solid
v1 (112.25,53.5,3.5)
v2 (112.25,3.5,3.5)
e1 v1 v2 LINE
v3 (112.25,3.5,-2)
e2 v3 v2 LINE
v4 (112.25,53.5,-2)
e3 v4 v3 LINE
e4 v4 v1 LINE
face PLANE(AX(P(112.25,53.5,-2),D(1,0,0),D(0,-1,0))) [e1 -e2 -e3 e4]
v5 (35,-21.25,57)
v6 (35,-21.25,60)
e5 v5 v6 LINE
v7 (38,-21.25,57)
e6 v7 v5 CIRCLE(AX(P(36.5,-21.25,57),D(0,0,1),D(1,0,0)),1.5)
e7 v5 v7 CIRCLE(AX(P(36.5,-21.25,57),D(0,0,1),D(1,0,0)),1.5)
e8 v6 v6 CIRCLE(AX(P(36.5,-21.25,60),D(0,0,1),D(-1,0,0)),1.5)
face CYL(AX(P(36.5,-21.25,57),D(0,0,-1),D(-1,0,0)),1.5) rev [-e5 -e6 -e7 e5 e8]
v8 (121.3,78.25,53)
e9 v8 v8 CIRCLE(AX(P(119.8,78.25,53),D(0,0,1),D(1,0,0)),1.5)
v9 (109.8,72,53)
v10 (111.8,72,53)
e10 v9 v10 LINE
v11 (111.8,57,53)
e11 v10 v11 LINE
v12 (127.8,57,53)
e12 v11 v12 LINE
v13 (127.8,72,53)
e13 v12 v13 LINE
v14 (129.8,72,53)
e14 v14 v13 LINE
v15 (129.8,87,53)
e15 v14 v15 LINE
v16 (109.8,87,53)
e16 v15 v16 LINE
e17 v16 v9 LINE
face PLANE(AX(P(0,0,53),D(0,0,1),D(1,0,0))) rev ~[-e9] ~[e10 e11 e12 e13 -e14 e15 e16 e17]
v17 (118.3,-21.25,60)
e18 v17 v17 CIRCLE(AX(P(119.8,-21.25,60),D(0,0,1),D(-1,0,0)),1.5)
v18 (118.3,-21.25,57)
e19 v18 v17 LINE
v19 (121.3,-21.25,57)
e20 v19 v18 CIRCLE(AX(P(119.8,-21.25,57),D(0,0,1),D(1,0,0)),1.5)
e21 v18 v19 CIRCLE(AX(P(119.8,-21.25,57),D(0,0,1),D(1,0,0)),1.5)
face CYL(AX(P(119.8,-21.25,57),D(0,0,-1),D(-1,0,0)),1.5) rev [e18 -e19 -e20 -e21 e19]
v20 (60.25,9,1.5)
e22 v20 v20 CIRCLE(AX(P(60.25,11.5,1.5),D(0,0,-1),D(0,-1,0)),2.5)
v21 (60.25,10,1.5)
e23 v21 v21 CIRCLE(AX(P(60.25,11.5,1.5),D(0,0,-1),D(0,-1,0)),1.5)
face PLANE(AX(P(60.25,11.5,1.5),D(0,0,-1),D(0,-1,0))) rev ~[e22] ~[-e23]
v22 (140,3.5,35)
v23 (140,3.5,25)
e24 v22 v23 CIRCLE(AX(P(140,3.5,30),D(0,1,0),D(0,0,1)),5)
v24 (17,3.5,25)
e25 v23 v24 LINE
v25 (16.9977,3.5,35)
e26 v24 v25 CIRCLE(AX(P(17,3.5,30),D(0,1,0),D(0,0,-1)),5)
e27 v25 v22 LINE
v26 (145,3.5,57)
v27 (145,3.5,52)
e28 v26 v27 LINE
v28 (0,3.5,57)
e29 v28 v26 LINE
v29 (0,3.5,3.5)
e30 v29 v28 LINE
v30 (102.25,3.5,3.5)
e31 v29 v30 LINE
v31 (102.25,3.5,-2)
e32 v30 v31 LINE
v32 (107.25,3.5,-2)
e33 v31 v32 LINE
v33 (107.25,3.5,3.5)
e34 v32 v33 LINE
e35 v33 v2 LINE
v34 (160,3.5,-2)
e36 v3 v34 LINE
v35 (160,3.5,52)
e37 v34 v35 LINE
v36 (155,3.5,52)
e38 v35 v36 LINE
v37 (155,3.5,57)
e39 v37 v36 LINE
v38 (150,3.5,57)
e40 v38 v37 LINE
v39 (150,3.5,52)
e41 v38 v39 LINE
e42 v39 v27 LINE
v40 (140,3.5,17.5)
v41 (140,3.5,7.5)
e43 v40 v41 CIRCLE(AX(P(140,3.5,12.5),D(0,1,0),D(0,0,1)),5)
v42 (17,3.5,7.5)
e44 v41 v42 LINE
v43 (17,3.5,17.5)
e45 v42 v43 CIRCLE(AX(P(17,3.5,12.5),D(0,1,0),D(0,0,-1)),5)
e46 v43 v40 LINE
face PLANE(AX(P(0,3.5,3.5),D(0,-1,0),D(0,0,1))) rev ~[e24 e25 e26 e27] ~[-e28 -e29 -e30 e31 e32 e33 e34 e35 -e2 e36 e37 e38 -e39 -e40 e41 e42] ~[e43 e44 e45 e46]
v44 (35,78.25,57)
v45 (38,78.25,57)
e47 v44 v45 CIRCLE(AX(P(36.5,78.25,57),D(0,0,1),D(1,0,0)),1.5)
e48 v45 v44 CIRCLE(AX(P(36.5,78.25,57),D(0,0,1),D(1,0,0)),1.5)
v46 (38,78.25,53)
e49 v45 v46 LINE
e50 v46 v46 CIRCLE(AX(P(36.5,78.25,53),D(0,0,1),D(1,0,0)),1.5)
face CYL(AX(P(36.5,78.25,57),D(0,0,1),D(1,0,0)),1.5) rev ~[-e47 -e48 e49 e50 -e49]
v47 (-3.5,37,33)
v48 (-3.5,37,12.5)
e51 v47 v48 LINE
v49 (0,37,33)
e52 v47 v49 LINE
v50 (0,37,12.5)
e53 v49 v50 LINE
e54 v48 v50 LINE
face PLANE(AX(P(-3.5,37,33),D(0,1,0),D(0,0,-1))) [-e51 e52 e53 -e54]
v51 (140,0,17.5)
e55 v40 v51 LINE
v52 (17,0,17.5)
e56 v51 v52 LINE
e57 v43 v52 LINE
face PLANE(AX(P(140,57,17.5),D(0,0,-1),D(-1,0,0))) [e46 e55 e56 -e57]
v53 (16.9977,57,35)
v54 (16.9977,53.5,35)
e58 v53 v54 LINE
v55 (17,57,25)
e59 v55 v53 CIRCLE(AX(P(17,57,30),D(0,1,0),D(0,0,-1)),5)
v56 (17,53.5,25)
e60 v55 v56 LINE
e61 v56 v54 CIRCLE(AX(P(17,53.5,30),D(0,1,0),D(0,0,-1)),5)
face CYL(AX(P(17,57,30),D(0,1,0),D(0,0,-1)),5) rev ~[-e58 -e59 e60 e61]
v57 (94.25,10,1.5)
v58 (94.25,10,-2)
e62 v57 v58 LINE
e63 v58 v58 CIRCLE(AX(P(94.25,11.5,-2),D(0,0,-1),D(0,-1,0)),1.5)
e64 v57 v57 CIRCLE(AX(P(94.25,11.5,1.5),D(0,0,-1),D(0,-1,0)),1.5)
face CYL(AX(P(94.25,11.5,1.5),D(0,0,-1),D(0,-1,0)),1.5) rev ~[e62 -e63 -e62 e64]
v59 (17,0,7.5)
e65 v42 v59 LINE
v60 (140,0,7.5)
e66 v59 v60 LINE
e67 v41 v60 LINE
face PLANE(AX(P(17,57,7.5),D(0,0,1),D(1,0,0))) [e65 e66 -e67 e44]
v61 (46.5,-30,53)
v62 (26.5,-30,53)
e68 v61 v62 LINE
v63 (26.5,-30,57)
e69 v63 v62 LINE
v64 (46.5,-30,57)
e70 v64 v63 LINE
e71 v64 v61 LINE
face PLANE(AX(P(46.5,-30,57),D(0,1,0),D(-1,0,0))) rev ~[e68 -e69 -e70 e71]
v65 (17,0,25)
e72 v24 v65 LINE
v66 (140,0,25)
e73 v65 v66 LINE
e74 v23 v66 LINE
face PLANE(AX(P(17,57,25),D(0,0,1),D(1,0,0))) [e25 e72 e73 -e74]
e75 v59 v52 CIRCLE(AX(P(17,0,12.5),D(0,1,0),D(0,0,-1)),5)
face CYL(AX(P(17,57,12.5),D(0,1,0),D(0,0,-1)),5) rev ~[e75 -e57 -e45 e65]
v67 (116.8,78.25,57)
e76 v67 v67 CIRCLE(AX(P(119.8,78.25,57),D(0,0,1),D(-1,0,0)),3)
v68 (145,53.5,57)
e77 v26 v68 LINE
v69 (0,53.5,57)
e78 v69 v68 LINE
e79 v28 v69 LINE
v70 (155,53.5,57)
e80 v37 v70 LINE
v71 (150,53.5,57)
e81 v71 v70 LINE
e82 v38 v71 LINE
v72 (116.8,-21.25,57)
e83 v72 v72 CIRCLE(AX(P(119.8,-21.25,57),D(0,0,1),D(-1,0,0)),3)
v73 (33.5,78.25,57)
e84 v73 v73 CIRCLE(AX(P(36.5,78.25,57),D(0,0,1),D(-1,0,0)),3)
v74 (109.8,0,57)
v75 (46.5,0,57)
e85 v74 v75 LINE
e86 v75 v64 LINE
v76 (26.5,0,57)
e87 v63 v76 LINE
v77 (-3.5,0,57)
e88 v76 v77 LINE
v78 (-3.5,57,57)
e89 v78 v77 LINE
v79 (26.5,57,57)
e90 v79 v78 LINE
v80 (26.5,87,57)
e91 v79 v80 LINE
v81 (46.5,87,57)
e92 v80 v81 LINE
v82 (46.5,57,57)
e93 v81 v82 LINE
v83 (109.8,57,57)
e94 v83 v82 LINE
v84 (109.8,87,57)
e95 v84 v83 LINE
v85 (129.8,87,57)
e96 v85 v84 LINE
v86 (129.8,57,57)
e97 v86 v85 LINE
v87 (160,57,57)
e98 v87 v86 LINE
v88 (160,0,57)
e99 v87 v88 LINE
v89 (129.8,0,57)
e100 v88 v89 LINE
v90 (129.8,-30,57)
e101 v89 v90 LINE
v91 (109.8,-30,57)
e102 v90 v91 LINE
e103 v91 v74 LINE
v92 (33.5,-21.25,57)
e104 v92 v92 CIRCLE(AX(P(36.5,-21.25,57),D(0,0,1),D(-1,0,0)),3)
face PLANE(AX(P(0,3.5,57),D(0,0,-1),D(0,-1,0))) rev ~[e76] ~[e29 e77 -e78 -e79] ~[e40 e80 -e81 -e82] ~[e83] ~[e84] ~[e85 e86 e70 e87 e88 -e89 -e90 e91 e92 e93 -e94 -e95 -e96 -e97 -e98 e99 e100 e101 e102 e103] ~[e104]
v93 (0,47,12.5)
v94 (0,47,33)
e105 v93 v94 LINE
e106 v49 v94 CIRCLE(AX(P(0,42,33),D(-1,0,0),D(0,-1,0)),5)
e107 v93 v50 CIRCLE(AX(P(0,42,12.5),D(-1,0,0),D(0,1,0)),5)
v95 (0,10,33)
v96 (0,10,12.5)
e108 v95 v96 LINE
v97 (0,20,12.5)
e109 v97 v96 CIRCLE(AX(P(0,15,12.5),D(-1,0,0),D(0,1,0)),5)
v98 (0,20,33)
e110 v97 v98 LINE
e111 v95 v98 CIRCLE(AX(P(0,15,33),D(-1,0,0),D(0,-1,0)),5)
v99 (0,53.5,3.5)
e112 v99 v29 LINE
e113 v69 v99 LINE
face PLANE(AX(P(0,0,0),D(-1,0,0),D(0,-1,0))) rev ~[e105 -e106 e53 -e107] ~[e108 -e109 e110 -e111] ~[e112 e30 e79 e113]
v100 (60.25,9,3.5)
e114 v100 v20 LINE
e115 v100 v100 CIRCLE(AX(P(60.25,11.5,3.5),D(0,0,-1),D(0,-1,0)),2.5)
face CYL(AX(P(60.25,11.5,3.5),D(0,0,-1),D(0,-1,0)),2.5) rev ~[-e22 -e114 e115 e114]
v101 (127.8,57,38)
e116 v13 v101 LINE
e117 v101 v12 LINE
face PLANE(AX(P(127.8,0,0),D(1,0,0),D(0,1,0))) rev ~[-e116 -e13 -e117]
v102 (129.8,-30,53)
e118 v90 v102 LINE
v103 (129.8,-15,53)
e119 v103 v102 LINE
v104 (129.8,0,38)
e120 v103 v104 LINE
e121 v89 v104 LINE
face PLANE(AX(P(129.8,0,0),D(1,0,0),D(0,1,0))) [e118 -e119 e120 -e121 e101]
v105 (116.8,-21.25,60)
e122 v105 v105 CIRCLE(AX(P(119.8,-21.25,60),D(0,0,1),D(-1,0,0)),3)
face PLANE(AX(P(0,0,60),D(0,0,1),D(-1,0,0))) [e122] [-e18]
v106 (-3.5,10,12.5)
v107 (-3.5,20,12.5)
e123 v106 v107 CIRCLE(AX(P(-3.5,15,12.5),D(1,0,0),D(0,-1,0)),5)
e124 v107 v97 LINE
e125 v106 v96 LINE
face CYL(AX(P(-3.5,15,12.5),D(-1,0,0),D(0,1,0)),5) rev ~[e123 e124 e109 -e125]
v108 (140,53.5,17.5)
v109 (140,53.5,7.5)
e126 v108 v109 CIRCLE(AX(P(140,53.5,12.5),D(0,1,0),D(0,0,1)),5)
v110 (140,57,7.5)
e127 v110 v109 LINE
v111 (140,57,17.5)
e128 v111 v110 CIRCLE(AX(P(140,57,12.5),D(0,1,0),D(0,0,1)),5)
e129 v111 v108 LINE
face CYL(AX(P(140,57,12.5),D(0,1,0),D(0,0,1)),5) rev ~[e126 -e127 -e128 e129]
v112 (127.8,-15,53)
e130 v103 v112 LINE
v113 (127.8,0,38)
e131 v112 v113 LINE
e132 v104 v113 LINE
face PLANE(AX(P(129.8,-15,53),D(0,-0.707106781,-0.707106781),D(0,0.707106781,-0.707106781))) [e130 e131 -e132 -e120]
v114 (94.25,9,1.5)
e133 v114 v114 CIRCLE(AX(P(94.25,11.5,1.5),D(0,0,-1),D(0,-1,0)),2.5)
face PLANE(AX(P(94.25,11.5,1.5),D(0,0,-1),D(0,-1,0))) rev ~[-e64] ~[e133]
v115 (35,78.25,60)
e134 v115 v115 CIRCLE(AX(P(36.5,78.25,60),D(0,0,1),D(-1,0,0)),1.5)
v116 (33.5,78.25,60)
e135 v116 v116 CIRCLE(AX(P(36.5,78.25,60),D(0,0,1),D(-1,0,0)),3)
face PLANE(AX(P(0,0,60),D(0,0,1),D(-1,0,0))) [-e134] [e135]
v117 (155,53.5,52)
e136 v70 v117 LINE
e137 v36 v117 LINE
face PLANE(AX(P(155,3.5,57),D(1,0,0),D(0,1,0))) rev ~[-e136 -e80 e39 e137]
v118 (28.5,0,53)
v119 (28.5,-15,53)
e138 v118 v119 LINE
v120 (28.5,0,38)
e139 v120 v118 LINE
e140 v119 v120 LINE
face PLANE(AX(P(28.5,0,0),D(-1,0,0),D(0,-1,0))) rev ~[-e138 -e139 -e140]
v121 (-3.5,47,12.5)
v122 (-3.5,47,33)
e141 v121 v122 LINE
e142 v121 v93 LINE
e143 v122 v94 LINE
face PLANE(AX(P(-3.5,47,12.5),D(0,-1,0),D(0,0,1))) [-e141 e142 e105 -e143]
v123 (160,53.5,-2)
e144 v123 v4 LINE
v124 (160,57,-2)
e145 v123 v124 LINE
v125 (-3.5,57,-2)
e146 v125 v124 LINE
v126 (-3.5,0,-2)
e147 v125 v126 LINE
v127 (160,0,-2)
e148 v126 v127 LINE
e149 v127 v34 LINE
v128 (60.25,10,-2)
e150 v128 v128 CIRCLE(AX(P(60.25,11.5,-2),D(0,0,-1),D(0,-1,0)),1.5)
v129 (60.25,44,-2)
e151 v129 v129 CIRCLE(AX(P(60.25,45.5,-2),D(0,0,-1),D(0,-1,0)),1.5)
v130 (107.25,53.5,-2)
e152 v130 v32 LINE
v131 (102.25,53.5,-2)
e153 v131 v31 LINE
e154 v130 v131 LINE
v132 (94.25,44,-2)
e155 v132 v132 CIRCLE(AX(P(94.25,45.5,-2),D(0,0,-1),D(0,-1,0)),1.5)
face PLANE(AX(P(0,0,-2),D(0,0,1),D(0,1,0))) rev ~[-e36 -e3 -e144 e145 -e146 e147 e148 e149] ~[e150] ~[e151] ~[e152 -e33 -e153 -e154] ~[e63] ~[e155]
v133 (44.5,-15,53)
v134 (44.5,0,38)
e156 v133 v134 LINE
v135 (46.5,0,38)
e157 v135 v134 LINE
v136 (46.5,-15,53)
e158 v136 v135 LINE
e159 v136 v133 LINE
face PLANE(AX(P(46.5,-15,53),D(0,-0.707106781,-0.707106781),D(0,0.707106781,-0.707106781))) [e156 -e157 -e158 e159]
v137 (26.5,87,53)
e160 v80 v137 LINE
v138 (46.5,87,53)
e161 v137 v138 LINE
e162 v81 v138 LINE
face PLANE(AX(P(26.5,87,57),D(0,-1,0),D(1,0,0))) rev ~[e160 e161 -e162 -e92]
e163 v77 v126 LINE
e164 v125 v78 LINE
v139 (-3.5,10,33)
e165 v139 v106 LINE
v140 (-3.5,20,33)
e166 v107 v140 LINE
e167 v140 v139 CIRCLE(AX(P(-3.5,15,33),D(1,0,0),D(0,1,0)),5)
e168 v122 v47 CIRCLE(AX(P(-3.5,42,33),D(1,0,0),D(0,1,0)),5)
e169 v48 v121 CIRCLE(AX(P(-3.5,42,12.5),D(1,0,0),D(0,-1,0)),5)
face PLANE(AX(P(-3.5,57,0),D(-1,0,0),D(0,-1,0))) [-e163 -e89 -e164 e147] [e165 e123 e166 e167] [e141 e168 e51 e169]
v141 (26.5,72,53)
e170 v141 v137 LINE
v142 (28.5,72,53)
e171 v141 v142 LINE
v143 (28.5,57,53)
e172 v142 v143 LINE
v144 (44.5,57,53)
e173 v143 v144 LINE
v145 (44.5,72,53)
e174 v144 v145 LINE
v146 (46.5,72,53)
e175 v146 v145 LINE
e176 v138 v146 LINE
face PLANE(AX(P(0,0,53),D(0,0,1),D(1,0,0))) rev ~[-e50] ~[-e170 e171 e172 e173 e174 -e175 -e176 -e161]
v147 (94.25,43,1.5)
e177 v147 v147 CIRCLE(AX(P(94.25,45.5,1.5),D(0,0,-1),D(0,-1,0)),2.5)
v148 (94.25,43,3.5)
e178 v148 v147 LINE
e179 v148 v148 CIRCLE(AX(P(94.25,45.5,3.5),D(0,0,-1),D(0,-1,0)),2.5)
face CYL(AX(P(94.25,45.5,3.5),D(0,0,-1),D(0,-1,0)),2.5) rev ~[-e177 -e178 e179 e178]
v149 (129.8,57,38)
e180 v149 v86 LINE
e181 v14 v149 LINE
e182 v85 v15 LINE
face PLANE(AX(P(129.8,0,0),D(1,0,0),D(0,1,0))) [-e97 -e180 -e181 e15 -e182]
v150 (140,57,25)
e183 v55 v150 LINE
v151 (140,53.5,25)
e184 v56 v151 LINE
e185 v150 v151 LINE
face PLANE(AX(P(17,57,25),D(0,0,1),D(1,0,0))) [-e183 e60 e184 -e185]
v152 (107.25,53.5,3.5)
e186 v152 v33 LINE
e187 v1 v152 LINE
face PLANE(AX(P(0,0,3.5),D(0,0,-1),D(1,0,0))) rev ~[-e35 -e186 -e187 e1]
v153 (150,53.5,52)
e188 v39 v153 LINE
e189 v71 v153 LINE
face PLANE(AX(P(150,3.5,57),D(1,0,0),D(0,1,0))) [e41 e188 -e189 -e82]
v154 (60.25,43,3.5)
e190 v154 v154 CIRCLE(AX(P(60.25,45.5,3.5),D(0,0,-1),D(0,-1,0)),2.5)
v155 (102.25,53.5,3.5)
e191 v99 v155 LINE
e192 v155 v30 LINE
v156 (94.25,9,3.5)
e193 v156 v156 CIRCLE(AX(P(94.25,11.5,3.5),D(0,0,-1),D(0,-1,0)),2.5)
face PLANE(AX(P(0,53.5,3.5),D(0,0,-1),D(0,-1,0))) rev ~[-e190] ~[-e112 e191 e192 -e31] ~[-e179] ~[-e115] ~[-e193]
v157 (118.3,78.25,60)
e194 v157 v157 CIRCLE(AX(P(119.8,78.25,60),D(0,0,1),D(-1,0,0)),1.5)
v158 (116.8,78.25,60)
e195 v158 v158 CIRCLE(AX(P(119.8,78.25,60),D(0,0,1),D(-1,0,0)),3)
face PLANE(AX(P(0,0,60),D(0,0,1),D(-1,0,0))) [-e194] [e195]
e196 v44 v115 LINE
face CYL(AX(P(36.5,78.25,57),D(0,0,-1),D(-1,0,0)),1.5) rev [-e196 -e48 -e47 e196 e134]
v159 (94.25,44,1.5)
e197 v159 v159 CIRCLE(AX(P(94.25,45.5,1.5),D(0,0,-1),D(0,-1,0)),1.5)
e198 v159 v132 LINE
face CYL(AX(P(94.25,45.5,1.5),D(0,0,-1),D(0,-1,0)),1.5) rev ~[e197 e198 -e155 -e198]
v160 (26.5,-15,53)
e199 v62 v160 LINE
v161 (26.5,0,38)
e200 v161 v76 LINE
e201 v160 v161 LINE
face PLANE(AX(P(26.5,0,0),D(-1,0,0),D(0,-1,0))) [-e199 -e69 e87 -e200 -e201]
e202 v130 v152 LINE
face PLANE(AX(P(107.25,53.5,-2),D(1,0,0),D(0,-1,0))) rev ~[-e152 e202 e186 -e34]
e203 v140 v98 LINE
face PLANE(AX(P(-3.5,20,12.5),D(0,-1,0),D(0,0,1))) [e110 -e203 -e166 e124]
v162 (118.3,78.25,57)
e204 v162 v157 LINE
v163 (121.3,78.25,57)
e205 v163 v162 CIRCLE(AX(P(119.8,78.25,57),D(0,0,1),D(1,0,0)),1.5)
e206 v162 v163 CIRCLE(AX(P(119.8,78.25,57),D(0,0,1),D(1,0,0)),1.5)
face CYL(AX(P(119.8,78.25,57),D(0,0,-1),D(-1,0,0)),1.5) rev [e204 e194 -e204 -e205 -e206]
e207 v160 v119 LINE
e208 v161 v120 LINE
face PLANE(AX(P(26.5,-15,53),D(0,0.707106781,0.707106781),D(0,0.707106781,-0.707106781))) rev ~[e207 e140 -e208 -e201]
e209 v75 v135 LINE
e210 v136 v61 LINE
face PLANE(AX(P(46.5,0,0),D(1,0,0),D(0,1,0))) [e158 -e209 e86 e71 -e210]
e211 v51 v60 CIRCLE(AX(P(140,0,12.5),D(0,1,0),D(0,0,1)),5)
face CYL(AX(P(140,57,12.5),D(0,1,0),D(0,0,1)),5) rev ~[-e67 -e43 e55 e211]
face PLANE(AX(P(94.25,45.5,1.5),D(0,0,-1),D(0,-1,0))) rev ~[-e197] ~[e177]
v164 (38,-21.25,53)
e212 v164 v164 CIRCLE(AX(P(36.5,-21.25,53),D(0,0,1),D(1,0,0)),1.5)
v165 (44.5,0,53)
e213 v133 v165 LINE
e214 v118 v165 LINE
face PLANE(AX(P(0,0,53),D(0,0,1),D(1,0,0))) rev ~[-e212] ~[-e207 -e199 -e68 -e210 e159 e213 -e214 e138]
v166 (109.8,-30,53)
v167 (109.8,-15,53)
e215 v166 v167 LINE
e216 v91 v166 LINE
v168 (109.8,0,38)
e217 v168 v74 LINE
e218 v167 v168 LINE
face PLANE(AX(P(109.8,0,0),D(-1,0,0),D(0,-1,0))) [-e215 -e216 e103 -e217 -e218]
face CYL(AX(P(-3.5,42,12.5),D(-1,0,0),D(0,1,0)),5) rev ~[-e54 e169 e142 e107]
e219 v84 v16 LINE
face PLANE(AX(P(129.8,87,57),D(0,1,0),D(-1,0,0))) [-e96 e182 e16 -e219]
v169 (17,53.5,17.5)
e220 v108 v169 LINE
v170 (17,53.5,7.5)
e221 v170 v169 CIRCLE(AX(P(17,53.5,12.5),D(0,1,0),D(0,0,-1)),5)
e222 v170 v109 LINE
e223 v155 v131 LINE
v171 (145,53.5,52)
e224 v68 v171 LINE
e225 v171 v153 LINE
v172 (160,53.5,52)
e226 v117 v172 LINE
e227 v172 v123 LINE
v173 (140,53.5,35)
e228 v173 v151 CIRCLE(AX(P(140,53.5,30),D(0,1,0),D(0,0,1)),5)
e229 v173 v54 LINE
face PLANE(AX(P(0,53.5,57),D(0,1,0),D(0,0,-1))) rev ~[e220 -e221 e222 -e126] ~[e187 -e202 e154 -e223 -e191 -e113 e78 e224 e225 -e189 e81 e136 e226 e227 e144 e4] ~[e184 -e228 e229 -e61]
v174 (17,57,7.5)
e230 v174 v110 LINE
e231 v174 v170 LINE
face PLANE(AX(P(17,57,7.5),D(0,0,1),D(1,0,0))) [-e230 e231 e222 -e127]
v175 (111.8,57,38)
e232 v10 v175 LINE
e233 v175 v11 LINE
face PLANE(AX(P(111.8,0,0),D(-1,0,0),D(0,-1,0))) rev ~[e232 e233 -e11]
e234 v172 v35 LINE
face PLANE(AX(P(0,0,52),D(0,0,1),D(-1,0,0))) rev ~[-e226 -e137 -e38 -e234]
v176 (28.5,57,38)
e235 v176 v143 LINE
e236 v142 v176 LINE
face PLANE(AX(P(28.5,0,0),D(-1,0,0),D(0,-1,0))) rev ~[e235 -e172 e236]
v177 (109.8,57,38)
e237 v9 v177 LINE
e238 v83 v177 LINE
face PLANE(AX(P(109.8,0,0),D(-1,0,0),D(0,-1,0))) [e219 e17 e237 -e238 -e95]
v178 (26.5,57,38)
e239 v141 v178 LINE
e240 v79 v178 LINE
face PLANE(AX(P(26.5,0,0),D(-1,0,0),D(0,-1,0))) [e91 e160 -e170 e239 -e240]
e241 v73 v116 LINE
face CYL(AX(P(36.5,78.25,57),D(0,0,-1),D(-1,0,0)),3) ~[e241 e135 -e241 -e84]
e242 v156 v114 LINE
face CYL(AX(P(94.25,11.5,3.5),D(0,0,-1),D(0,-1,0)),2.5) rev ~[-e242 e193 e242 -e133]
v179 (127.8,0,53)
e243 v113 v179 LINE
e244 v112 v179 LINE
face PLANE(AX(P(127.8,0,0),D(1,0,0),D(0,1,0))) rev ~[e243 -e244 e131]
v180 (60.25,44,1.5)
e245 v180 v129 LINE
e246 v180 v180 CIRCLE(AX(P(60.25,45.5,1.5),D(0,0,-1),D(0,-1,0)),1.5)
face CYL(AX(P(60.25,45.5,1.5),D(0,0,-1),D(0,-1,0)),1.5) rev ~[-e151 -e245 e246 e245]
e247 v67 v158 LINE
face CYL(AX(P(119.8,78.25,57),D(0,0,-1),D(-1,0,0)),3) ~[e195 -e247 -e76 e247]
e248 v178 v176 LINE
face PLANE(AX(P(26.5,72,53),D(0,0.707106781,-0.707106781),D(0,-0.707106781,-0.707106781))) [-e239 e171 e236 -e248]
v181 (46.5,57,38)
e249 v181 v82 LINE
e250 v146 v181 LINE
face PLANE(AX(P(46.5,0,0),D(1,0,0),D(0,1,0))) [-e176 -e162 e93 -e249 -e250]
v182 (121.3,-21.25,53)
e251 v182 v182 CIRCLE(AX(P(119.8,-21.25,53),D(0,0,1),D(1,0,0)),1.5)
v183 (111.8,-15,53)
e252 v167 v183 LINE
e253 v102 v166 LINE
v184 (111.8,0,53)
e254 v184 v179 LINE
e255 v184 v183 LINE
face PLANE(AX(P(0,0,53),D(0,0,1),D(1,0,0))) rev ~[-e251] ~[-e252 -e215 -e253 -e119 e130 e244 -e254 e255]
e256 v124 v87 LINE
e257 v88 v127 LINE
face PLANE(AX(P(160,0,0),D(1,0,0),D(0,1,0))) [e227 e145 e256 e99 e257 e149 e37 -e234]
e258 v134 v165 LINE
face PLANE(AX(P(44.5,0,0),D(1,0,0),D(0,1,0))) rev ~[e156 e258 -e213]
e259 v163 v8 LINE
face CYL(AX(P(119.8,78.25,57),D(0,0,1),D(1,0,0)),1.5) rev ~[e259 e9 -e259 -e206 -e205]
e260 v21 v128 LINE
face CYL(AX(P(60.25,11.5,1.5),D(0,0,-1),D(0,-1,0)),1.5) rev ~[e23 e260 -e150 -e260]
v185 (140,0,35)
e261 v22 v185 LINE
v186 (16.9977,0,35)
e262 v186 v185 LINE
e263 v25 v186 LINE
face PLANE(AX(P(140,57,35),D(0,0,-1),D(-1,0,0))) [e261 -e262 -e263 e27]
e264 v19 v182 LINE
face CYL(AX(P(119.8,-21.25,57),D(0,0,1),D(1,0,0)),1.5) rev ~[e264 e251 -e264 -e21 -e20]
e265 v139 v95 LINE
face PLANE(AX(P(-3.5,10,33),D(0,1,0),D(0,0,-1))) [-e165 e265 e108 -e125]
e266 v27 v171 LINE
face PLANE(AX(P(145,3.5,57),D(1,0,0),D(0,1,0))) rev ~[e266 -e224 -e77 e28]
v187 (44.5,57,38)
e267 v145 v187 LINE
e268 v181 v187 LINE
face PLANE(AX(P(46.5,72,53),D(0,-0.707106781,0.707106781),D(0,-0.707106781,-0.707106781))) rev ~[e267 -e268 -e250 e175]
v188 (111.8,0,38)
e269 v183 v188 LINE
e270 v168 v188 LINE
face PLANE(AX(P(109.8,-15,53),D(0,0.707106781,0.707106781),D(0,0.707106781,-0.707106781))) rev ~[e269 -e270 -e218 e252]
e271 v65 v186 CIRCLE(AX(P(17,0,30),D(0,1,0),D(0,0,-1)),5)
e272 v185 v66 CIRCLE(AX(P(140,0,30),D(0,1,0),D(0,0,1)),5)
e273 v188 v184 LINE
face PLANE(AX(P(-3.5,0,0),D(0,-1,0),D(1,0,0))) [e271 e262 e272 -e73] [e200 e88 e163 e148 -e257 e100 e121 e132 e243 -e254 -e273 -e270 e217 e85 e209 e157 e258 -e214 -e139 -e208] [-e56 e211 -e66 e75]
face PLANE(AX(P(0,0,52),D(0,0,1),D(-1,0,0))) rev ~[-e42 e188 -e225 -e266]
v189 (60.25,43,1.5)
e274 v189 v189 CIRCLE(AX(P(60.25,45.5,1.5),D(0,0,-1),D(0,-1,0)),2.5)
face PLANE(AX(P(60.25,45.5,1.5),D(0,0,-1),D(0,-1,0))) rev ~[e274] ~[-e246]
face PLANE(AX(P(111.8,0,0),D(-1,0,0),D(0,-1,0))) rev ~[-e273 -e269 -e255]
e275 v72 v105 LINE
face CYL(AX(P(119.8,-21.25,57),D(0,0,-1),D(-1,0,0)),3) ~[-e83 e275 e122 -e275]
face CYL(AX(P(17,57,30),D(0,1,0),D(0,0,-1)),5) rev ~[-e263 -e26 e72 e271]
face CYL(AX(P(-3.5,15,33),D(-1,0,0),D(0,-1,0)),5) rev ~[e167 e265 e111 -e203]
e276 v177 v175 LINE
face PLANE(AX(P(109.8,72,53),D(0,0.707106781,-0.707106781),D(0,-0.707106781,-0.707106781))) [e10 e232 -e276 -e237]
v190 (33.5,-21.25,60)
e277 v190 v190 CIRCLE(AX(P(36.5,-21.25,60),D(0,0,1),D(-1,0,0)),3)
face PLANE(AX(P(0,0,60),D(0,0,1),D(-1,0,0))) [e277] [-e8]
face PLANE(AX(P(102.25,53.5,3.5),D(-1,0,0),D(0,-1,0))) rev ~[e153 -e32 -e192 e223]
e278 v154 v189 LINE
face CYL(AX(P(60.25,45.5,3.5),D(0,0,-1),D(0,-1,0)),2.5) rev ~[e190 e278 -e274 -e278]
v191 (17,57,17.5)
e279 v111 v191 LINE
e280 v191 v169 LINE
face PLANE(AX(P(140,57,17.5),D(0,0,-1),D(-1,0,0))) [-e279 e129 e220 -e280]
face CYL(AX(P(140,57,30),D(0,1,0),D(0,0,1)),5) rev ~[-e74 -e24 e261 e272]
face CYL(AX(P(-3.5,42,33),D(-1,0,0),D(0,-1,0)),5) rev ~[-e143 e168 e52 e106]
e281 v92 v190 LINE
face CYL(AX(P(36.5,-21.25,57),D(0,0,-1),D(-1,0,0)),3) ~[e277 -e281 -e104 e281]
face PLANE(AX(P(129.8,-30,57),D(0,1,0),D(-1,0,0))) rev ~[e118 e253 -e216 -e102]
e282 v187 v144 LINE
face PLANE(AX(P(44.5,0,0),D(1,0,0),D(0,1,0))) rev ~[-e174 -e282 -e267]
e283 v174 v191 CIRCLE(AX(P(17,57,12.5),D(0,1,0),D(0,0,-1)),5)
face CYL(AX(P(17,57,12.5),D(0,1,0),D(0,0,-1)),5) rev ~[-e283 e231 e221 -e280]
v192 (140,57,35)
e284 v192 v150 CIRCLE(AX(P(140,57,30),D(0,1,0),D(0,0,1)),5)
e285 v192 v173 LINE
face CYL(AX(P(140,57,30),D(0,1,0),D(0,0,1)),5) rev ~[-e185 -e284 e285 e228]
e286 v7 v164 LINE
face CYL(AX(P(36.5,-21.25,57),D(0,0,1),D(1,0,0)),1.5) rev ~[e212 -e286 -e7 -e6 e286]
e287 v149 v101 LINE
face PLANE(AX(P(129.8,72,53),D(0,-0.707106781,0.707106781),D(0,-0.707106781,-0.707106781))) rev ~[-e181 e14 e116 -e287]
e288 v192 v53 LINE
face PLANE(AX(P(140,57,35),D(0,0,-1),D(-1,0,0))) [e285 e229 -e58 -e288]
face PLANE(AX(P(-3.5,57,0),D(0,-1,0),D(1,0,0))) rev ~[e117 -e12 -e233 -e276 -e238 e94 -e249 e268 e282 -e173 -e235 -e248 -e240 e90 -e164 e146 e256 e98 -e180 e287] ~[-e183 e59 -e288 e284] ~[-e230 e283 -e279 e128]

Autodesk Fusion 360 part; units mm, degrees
sketch "Sketch1" plane through (0, 0, 0) normal (1, 0, 0) x (0, 1, 0)
  line L0 (0, 0) -> (57, 0)
  line L1 (57, 0) -> (57, 57)
  line L2 (57, 57) -> (0, 57)
  line L3 (0, 57) -> (0, 0)
  line L4 (3.5, 57) -> (53.5, 57)
  line L5 (53.5, 57) -> (53.5, 3.5)
  line L6 (53.5, 3.5) -> (3.5, 3.5)
  line L7 (3.5, 3.5) -> (3.5, 57)
  dimension "d1" = 57
  dimension "d2" = 57
  dimension "d3" = 3.5
  dimension "d4" = 3.5
  dimension "d5" = 3.5
extrude "Extrude1" add sketch "Sketch1" along normal blind 160 contours L0 L1 L2 L3 L5 L6 L7
sketch "Sketch2" plane through (0, 0, 0) normal (-1, 0, 0) x (0, -1, 0)
  line L0 (-3.5, 57) -> (-3.5, 3.5)
  line L1 (-3.5, 3.5) -> (-53.5, 3.5)
  line L2 (-53.5, 3.5) -> (-53.5, 57)
  line L3 (-53.5, 57) -> (-57, 57)
  line L4 (-57, 57) -> (-57, 0)
  line L5 (-57, 0) -> (0, 0)
  line L6 (0, 0) -> (0, 57)
  line L7 (0, 57) -> (-3.5, 57)
  line L8 (-57, 57) -> (0, 57)
  line L9 (0, 57) -> (0, 0)
  line L10 (0, 0) -> (-57, 0)
  line L11 (-57, 0) -> (-57, 57)
extrude "Extrude2" add sketch "Sketch2" along normal blind 3.5
ref_plane "WorkPlane1" through (78.25, 28.5, 57) normal (0, 0, 1) x (0, -1, 0)
sketch "Sketch4" plane through (0, 0, 57) normal (0, 0, 1) x (1, 0, 0)
  circle A0 centre (36.5, 78.25) radius 1.5
  circle A1 centre (119.8, 78.25) radius 1.5
  circle A2 centre (36.5, -21.25) radius 1.5
  circle A3 centre (119.8, -21.25) radius 1.5
  line L0 (-3.5, 57) -> (160, 57)
  line L1 (26.5, 0) -> (46.5, 0)
  line L2 (46.5, 0) -> (46.5, -30)
  line L3 (46.5, -30) -> (26.5, -30)
  line L4 (26.5, -30) -> (26.5, 0)
  line L5 (109.8, 0) -> (129.8, 0)
  line L6 (129.8, 0) -> (129.8, -30)
  line L7 (129.8, -30) -> (109.8, -30)
  line L8 (109.8, -30) -> (109.8, 0)
  line L9 (109.8, 57) -> (129.8, 57)
  line L10 (129.8, 57) -> (129.8, 87)
  line L11 (129.8, 87) -> (109.8, 87)
  line L12 (109.8, 87) -> (109.8, 57)
  line L13 (26.5, 87) -> (46.5, 87)
  line L14 (46.5, 87) -> (46.5, 57)
  line L15 (46.5, 57) -> (26.5, 57)
  line L16 (26.5, 57) -> (26.5, 87)
  line L17 (-3.5, 57) -> (-3.5, 54.574)
  line L18 (-3.5, 0) -> (-3.5, 57)
  point P0 (-3.5, 57)
  dimension "d27" = 3
  dimension "d29" = 3
  dimension "d31" = 3
  dimension "d33" = 3
  dimension "d38" = 21.25
  dimension "d39" = 10
  dimension "d40" = 10
  dimension "d41" = 20
  dimension "d42" = 30
  dimension "d43" = 20
  dimension "d44" = 30
  dimension "d45" = 10
  dimension "d46" = 10
  dimension "d47" = 21.25
  dimension "d51" = 30
  dimension "d52" = 20
  dimension "d53" = 30
  dimension "d54" = 20
  dimension "d186" = 63.3
  dimension "d187" = 63.3
  dimension "d188" = 103.3
  dimension "d189" = 163.5
  dimension "d190" = 30
  dimension "d191" = 30
extrude "Extrude4" add sketch "Sketch4" against normal blind 4
sketch "Sketch5" plane through (129.8, 0, 0) normal (1, 0, 0) x (0, 1, 0)
  line L0 (0, 57) -> (-30, 57)
  line L1 (-30, 57) -> (-30, 53)
  line L2 (-30, 53) -> (0, 53)
  line L3 (0, 53) -> (0, 57)
  line L4 (0, 53) -> (-15, 53)
  line L5 (-15, 53) -> (0, 38)
  line L6 (0, 38) -> (0, 53)
  dimension "d55" = 45
extrude "Extrude5" add sketch "Sketch5" against normal blind 2 contours L2 L4 L5 L6
sketch "Sketch6" plane through (129.8, 0, 0) normal (1, 0, 0) x (0, 1, 0)
  line L0 (87, 57) -> (57, 57)
  line L1 (57, 57) -> (57, 53)
  line L2 (57, 53) -> (87, 53)
  line L3 (87, 53) -> (87, 57)
  line L4 (57, 53) -> (72, 53)
  line L5 (72, 53) -> (57, 38)
  line L6 (57, 38) -> (57, 53)
  dimension "d58" = 45
extrude "Extrude6" add sketch "Sketch6" against normal blind 2 contours L2 L4 L5 L6
sketch "Sketch7" plane through (109.8, 0, 0) normal (-1, 0, 0) x (0, -1, 0)
  line L0 (-57, 57) -> (-87, 57)
  line L1 (-87, 57) -> (-87, 53)
  line L2 (-87, 53) -> (-57, 53)
  line L3 (-57, 53) -> (-57, 57)
  line L4 (-57, 53) -> (-72, 53)
  line L5 (-72, 53) -> (-57, 38)
  line L6 (-57, 38) -> (-57, 53)
  dimension "d61" = 45
extrude "Extrude7" add sketch "Sketch7" against normal blind 2 contours L2 L4 L5 L6
sketch "Sketch8" plane through (109.8, 0, 0) normal (-1, 0, 0) x (0, -1, 0)
  line L0 (30, 57) -> (0, 57)
  line L1 (0, 57) -> (0, 53)
  line L2 (0, 53) -> (30, 53)
  line L3 (30, 53) -> (30, 57)
  line L4 (0, 53) -> (15, 53)
  line L5 (15, 53) -> (0, 38)
  line L6 (0, 38) -> (0, 53)
  dimension "d64" = 45
extrude "Extrude8" add sketch "Sketch8" against normal blind 2 contours L2 L4 L5 L6
sketch "Sketch9" plane through (46.5, 0, 0) normal (1, 0, 0) x (0, 1, 0)
  line L0 (0, 57) -> (-30, 57)
  line L1 (-30, 57) -> (-30, 53)
  line L2 (-30, 53) -> (0, 53)
  line L3 (0, 53) -> (0, 57)
  line L4 (0, 53) -> (-15, 53)
  line L5 (-15, 53) -> (0, 38)
  line L6 (0, 38) -> (0, 53)
  dimension "d67" = 45
extrude "Extrude9" add sketch "Sketch9" against normal blind 2 contours L2 L4 L5 L6
sketch "Sketch10" plane through (26.5, 0, 0) normal (-1, 0, 0) x (0, -1, 0)
  line L0 (30, 57) -> (0, 57)
  line L1 (0, 57) -> (0, 53)
  line L2 (0, 53) -> (30, 53)
  line L3 (30, 53) -> (30, 57)
  line L4 (0, 53) -> (15, 53)
  line L5 (15, 53) -> (0, 38)
  line L6 (0, 38) -> (0, 53)
extrude "Extrude10" add sketch "Sketch10" against normal blind 2 contours L2 L4 L5 L6
sketch "Sketch11" plane through (26.5, 0, 0) normal (-1, 0, 0) x (0, -1, 0)
  line L0 (-57, 57) -> (-87, 57)
  line L1 (-87, 57) -> (-87, 53)
  line L2 (-87, 53) -> (-57, 53)
  line L3 (-57, 53) -> (-57, 57)
  line L4 (-57, 53) -> (-72, 53)
  line L5 (-72, 53) -> (-57, 38)
  line L6 (-57, 38) -> (-57, 53)
extrude "Extrude11" add sketch "Sketch11" against normal blind 2 contours L2 L4 L5 L6
sketch "Sketch12" plane through (46.5, 0, 0) normal (1, 0, 0) x (0, 1, 0)
  line L0 (87, 57) -> (57, 57)
  line L1 (57, 57) -> (57, 53)
  line L2 (57, 53) -> (87, 53)
  line L3 (87, 53) -> (87, 57)
  line L4 (57, 53) -> (72, 53)
  line L5 (72, 53) -> (57, 38)
  line L6 (57, 38) -> (57, 53)
  dimension "d74" = 45
extrude "Extrude12" add sketch "Sketch12" against normal blind 2 contours L2 L4 L5 L6
extrude "Extrude20" add 1 faces at (105.5, 38, 0) along direction (0, 0, -1) blind 2
sketch "Sketch23" plane through (0, 0, 3.5) normal (0, 0, 1) x (-1, 0, 0)
  line L0 (0, -53.5) -> (0, -3.5)
  line L1 (0, -3.5) -> (-160, -3.5)
  line L2 (-160, -3.5) -> (-160, -53.5)
  line L3 (-160, -53.5) -> (0, -53.5)
  line L4 (-160, -53.5) -> (-102.25, -53.5)
  line L5 (-102.25, -53.5) -> (-102.25, -3.5)
  line L6 (-102.25, -3.5) -> (-160, -3.5)
  line L7 (-160, -3.5) -> (-160, -53.5)
extrude "Extrude22" cut sketch "Sketch23" against normal up to surface (5.5 mm away) contours L1 L2 L3 L4 L5 L6 L7
sketch "Sketch28" plane through (0, 0, 57) normal (0, 0, 1) x (-1, 0, 0)
  line L0 (-160, 0) -> (-160, -3.5)
  line L1 (-160, -57) -> (-129.8, -57)
  line L2 (-129.8, -57) -> (-129.8, -87)
  line L3 (-129.8, -87) -> (-109.8, -87)
  line L4 (-109.8, -87) -> (-109.8, -57)
  line L5 (-109.8, -57) -> (-46.5, -57)
  line L6 (-46.5, -57) -> (-46.5, -87)
  line L7 (-46.5, -87) -> (-26.5, -87)
  line L8 (-26.5, -87) -> (-26.5, -57)
  line L9 (-26.5, -57) -> (3.5, -57)
  line L10 (3.5, -57) -> (3.5, 0)
  line L11 (3.5, 0) -> (-26.5, 0)
  line L12 (-26.5, 0) -> (-26.5, 30)
  line L13 (-26.5, 30) -> (-46.5, 30)
  line L14 (-46.5, 30) -> (-46.5, 0)
  line L15 (-46.5, 0) -> (-109.8, 0)
  line L16 (-109.8, 0) -> (-109.8, 30)
  line L17 (-109.8, 30) -> (-129.8, 30)
  line L18 (-129.8, 30) -> (-129.8, 0)
  line L19 (-129.8, 0) -> (-160, 0)
  line L20 (0, -3.5) -> (0, -53.5)
  line L21 (0, -53.5) -> (-160, -53.5)
  line L22 (-160, -3.5) -> (0, -3.5)
  circle A0 centre (-119.8, 21.25) radius 1.5
  circle A1 centre (-36.5, 21.25) radius 1.5
  circle A2 centre (-119.8, -78.25) radius 1.5
  circle A3 centre (-36.5, -78.25) radius 1.5
  circle A4 centre (-36.5, -78.25) radius 1.5
  circle A5 centre (-119.8, -78.25) radius 1.5
  circle A6 centre (-36.5, 21.25) radius 1.5
  circle A7 centre (-119.8, 21.25) radius 1.5
  circle A8 centre (-119.8, 21.25) radius 3
  circle A9 centre (-36.5, 21.25) radius 3
  circle A10 centre (-36.5, -78.25) radius 3
  circle A11 centre (-119.8, -78.25) radius 3
  line L23 (-160, -53.5) -> (-160, -57)
  dimension "d249" = 3
  dimension "d250" = 3
  dimension "d251" = 3
  dimension "d252" = 3
  dimension "d253" = 6
  dimension "d254" = 6
  dimension "d255" = 6
  dimension "d256" = 6
extrude "Extrude27" add sketch "Sketch28" along normal blind 3 contours A8 | A9 | A10 | A11
sketch "Sketch30" plane through (0, 57, 0) normal (0, 1, 0) x (-1, 0, 0)
  line L0 (-46.5, 38) -> (-46.5, 57)
  line L1 (-46.5, 57) -> (-109.8, 57)
  line L2 (-109.8, 57) -> (-109.8, 38)
  line L3 (-109.8, 38) -> (-111.8, 38)
  line L4 (-111.8, 38) -> (-111.8, 53)
  line L5 (-111.8, 53) -> (-127.8, 53)
  line L6 (-127.8, 53) -> (-127.8, 38)
  line L7 (-127.8, 38) -> (-129.8, 38)
  line L8 (-129.8, 38) -> (-129.8, 57)
  line L9 (-129.8, 57) -> (-160, 57)
  line L10 (-160, 57) -> (-160, -2)
  line L11 (-160, -2) -> (3.5, -2)
  line L12 (3.5, -2) -> (3.5, 57)
  line L13 (3.5, 57) -> (-26.5, 57)
  line L14 (-26.5, 57) -> (-26.5, 38)
  line L15 (-26.5, 38) -> (-28.5, 38)
  line L16 (-28.5, 38) -> (-28.5, 53)
  line L17 (-28.5, 53) -> (-44.5, 53)
  line L18 (-44.5, 53) -> (-44.5, 38)
  line L19 (-44.5, 38) -> (-46.5, 38)
  line L20 (-140, 35) -> (-16.9977, 35)
  line L21 (-17, 25) -> (-140, 25)
  line L22 (-140, 17.5) -> (-17, 17.5)
  line L23 (-17, 7.5) -> (-140, 7.5)
  arc A0 (-140, 35) -> (-140, 25) centre (-140, 30) ccw
  arc A1 (-17, 25) -> (-17.0023, 35) centre (-17, 30) ccw
  arc A2 (-140, 17.5) -> (-140, 7.5) centre (-140, 12.5) ccw
  arc A3 (-17, 7.5) -> (-17, 17.5) centre (-17, 12.5) ccw
  dimension "d263" = 7.5
  dimension "d264" = 10
  dimension "d265" = 5
  dimension "d266" = 10
  dimension "d267" = 5
  dimension "d268" = 10
extrude "Extrude28" cut sketch "Sketch30" against normal up to surface (57 mm away) contours L20 L21 A0 A1 | L22 L23 A2 A3
sketch "Sketch31" plane through (-3.5, 0, 0) normal (-1, 0, 0) x (0, -1, 0)
  line L0 (0, -2) -> (0, 57)
  line L1 (0, 57) -> (-57, 57)
  line L2 (-57, 57) -> (-57, -2)
  line L3 (-57, -2) -> (0, -2)
  line L4 (-37, 33) -> (-37, 12.5)
  line L5 (-42, 7.5) -> (-47, 7.5)
  line L6 (-47, 12.5) -> (-47, 33)
  line L7 (-10, 33) -> (-10, 12.5)
  line L8 (-20, 12.5) -> (-20, 33)
  line L9 (-42, 7.5) -> (-42, 12.5)
  line L10 (-42, 38) -> (-42, 33)
  line L11 (-15, 7.5) -> (-15, 12.5)
  line L12 (-15, 38) -> (-15, 33)
  arc A0 (-37, 33) -> (-47, 33) centre (-42, 33) ccw
  arc A1 (-47, 12.5) -> (-37, 12.5) centre (-42, 12.5) ccw
  arc A2 (-20, 12.5) -> (-10, 12.5) centre (-15, 12.5) ccw
  arc A3 (-10, 33) -> (-20, 33) centre (-15, 33) ccw
  dimension "d272" = 10
  dimension "d273" = 9.5
  dimension "d278" = 10
  dimension "d279" = 5
  dimension "d280" = 10
  dimension "d281" = 5
  dimension "d282" = 10
  dimension "d283" = 5
  dimension "d284" = 10
  dimension "d285" = 5
  dimension "d286" = 10
extrude "Extrude29" cut sketch "Sketch31" against normal up to surface (3.5 mm away) contours L4 L6 A0 A1 | L7 L8 A2 A3
sketch "Sketch32" plane through (0, 0, 3.5) normal (0, 0, 1) x (-1, 0, 0)
  line L0 (-102.25, -3.5) -> (-102.25, -53.5)
  line L1 (-102.25, -53.5) -> (0, -53.5)
  line L2 (0, -53.5) -> (0, -3.5)
  line L3 (0, -3.5) -> (-102.25, -3.5)
  circle A0 centre (-94.25, -11.5) radius 1.5
  circle A1 centre (-94.25, -45.5) radius 1.5
  circle A2 centre (-60.25, -11.5) radius 1.5
  circle A3 centre (-60.25, -45.5) radius 1.5
  dimension "d289" = 3
  dimension "d290" = 3
  dimension "d291" = 8
  dimension "d292" = 8
  dimension "d293" = 34
  dimension "d294" = 8
  dimension "d300" = 3
  dimension "d301" = 3
  dimension "d302" = 34
  dimension "d303" = 34
  dimension "d304" = 8
  dimension "d305" = 8
hole "Hole1" at (94.25, 11.5, 3.5) at (94.25, 45.5, 3.5) at (60.25, 45.5, 3.5) at (60.25, 11.5, 3.5) direction (0, 0, -1) diameter 3 depth 20 tip angle 180 counterbore diameter 5 counterbore depth 2
sketch "Sketch33" plane through (0, 0, -2) normal (0, 0, -1) x (1, 0, 0)
  circle A0 centre (60.25, -45.5) radius 1.5
  circle A1 centre (94.25, -11.5) radius 1.5
  circle A2 centre (94.25, -45.5) radius 1.5
  circle A3 centre (60.25, -11.5) radius 1.5
  line L0 (160, -53.5) -> (102.25, -53.5)
  line L1 (102.25, -53.5) -> (102.25, -3.5)
  line L2 (102.25, -3.5) -> (160, -3.5)
  line L3 (160, -3.5) -> (160, 0)
  line L4 (160, 0) -> (-3.5, 0)
  line L5 (-3.5, 0) -> (-3.5, -57)
  line L6 (-3.5, -57) -> (160, -57)
  line L7 (160, -57) -> (160, -53.5)
  line L8 (102.25, -53.5) -> (107.25, -53.5)
  line L9 (107.25, -53.5) -> (107.25, -3.5)
  line L10 (107.25, -3.5) -> (102.25, -3.5)
  line L11 (102.25, -3.5) -> (102.25, -53.5)
  line L12 (107.25, -53.5) -> (112.25, -53.5)
  line L13 (112.25, -53.5) -> (112.25, -3.5)
  line L14 (112.25, -3.5) -> (107.25, -3.5)
  line L15 (107.25, -3.5) -> (107.25, -53.5)
  dimension "d306" = 5
  dimension "d307" = 5
extrude "Extrude30" add sketch "Sketch33" against normal up to surface (5.5 mm away) contours L0 L2 L9 L12 L13 L14 L15
sketch "Sketch34" plane through (0, 0, 57) normal (0, 0, 1) x (-1, 0, 0)
  circle A0 centre (-36.5, 21.25) radius 3
  circle A1 centre (-36.5, -78.25) radius 3
  circle A2 centre (-119.8, 21.25) radius 3
  circle A3 centre (-119.8, -78.25) radius 3
  line L0 (3.5, 0) -> (-26.5, 0)
  line L1 (-26.5, 0) -> (-26.5, 30)
  line L2 (-26.5, 30) -> (-46.5, 30)
  line L3 (-46.5, 30) -> (-46.5, 0)
  line L4 (-46.5, 0) -> (-109.8, 0)
  line L5 (-109.8, 0) -> (-109.8, 30)
  line L6 (-109.8, 30) -> (-129.8, 30)
  line L7 (-129.8, 30) -> (-129.8, 0)
  line L8 (-129.8, 0) -> (-160, 0)
  line L9 (-160, 0) -> (-160, -3.5)
  line L10 (-160, -3.5) -> (0, -3.5)
  line L11 (0, -3.5) -> (0, -53.5)
  line L12 (0, -53.5) -> (-160, -53.5)
  line L13 (-160, -53.5) -> (-160, -57)
  line L14 (-160, -57) -> (-129.8, -57)
  line L15 (-129.8, -57) -> (-129.8, -87)
  line L16 (-129.8, -87) -> (-109.8, -87)
  line L17 (-109.8, -87) -> (-109.8, -57)
  line L18 (-109.8, -57) -> (-46.5, -57)
  line L19 (-46.5, -57) -> (-46.5, -87)
  line L20 (-46.5, -87) -> (-26.5, -87)
  line L21 (-26.5, -87) -> (-26.5, -57)
  line L22 (-26.5, -57) -> (3.5, -57)
  line L23 (3.5, -57) -> (3.5, 0)
  line L24 (-160, -3.5) -> (-155, -3.5)
  line L25 (-155, -3.5) -> (-155, -53.5)
  line L26 (-155, -53.5) -> (-160, -53.5)
  line L27 (-160, -53.5) -> (-160, -3.5)
  line L28 (-155, -3.5) -> (-150, -3.5)
  line L29 (-150, -3.5) -> (-150, -53.5)
  line L30 (-150, -53.5) -> (-155, -53.5)
  line L31 (-155, -53.5) -> (-155, -3.5)
  line L32 (-150, -3.5) -> (-145, -3.5)
  line L33 (-145, -3.5) -> (-145, -53.5)
  line L34 (-145, -53.5) -> (-150, -53.5)
  line L35 (-150, -53.5) -> (-150, -3.5)
  dimension "d310" = 5
  dimension "d311" = 5
  dimension "d312" = 5
extrude "Extrude31" add sketch "Sketch34" against normal blind 5 contours L10 L12 L24 L25 L26 L27 L31 | L10 L12 L29 L32 L33 L34 L35
